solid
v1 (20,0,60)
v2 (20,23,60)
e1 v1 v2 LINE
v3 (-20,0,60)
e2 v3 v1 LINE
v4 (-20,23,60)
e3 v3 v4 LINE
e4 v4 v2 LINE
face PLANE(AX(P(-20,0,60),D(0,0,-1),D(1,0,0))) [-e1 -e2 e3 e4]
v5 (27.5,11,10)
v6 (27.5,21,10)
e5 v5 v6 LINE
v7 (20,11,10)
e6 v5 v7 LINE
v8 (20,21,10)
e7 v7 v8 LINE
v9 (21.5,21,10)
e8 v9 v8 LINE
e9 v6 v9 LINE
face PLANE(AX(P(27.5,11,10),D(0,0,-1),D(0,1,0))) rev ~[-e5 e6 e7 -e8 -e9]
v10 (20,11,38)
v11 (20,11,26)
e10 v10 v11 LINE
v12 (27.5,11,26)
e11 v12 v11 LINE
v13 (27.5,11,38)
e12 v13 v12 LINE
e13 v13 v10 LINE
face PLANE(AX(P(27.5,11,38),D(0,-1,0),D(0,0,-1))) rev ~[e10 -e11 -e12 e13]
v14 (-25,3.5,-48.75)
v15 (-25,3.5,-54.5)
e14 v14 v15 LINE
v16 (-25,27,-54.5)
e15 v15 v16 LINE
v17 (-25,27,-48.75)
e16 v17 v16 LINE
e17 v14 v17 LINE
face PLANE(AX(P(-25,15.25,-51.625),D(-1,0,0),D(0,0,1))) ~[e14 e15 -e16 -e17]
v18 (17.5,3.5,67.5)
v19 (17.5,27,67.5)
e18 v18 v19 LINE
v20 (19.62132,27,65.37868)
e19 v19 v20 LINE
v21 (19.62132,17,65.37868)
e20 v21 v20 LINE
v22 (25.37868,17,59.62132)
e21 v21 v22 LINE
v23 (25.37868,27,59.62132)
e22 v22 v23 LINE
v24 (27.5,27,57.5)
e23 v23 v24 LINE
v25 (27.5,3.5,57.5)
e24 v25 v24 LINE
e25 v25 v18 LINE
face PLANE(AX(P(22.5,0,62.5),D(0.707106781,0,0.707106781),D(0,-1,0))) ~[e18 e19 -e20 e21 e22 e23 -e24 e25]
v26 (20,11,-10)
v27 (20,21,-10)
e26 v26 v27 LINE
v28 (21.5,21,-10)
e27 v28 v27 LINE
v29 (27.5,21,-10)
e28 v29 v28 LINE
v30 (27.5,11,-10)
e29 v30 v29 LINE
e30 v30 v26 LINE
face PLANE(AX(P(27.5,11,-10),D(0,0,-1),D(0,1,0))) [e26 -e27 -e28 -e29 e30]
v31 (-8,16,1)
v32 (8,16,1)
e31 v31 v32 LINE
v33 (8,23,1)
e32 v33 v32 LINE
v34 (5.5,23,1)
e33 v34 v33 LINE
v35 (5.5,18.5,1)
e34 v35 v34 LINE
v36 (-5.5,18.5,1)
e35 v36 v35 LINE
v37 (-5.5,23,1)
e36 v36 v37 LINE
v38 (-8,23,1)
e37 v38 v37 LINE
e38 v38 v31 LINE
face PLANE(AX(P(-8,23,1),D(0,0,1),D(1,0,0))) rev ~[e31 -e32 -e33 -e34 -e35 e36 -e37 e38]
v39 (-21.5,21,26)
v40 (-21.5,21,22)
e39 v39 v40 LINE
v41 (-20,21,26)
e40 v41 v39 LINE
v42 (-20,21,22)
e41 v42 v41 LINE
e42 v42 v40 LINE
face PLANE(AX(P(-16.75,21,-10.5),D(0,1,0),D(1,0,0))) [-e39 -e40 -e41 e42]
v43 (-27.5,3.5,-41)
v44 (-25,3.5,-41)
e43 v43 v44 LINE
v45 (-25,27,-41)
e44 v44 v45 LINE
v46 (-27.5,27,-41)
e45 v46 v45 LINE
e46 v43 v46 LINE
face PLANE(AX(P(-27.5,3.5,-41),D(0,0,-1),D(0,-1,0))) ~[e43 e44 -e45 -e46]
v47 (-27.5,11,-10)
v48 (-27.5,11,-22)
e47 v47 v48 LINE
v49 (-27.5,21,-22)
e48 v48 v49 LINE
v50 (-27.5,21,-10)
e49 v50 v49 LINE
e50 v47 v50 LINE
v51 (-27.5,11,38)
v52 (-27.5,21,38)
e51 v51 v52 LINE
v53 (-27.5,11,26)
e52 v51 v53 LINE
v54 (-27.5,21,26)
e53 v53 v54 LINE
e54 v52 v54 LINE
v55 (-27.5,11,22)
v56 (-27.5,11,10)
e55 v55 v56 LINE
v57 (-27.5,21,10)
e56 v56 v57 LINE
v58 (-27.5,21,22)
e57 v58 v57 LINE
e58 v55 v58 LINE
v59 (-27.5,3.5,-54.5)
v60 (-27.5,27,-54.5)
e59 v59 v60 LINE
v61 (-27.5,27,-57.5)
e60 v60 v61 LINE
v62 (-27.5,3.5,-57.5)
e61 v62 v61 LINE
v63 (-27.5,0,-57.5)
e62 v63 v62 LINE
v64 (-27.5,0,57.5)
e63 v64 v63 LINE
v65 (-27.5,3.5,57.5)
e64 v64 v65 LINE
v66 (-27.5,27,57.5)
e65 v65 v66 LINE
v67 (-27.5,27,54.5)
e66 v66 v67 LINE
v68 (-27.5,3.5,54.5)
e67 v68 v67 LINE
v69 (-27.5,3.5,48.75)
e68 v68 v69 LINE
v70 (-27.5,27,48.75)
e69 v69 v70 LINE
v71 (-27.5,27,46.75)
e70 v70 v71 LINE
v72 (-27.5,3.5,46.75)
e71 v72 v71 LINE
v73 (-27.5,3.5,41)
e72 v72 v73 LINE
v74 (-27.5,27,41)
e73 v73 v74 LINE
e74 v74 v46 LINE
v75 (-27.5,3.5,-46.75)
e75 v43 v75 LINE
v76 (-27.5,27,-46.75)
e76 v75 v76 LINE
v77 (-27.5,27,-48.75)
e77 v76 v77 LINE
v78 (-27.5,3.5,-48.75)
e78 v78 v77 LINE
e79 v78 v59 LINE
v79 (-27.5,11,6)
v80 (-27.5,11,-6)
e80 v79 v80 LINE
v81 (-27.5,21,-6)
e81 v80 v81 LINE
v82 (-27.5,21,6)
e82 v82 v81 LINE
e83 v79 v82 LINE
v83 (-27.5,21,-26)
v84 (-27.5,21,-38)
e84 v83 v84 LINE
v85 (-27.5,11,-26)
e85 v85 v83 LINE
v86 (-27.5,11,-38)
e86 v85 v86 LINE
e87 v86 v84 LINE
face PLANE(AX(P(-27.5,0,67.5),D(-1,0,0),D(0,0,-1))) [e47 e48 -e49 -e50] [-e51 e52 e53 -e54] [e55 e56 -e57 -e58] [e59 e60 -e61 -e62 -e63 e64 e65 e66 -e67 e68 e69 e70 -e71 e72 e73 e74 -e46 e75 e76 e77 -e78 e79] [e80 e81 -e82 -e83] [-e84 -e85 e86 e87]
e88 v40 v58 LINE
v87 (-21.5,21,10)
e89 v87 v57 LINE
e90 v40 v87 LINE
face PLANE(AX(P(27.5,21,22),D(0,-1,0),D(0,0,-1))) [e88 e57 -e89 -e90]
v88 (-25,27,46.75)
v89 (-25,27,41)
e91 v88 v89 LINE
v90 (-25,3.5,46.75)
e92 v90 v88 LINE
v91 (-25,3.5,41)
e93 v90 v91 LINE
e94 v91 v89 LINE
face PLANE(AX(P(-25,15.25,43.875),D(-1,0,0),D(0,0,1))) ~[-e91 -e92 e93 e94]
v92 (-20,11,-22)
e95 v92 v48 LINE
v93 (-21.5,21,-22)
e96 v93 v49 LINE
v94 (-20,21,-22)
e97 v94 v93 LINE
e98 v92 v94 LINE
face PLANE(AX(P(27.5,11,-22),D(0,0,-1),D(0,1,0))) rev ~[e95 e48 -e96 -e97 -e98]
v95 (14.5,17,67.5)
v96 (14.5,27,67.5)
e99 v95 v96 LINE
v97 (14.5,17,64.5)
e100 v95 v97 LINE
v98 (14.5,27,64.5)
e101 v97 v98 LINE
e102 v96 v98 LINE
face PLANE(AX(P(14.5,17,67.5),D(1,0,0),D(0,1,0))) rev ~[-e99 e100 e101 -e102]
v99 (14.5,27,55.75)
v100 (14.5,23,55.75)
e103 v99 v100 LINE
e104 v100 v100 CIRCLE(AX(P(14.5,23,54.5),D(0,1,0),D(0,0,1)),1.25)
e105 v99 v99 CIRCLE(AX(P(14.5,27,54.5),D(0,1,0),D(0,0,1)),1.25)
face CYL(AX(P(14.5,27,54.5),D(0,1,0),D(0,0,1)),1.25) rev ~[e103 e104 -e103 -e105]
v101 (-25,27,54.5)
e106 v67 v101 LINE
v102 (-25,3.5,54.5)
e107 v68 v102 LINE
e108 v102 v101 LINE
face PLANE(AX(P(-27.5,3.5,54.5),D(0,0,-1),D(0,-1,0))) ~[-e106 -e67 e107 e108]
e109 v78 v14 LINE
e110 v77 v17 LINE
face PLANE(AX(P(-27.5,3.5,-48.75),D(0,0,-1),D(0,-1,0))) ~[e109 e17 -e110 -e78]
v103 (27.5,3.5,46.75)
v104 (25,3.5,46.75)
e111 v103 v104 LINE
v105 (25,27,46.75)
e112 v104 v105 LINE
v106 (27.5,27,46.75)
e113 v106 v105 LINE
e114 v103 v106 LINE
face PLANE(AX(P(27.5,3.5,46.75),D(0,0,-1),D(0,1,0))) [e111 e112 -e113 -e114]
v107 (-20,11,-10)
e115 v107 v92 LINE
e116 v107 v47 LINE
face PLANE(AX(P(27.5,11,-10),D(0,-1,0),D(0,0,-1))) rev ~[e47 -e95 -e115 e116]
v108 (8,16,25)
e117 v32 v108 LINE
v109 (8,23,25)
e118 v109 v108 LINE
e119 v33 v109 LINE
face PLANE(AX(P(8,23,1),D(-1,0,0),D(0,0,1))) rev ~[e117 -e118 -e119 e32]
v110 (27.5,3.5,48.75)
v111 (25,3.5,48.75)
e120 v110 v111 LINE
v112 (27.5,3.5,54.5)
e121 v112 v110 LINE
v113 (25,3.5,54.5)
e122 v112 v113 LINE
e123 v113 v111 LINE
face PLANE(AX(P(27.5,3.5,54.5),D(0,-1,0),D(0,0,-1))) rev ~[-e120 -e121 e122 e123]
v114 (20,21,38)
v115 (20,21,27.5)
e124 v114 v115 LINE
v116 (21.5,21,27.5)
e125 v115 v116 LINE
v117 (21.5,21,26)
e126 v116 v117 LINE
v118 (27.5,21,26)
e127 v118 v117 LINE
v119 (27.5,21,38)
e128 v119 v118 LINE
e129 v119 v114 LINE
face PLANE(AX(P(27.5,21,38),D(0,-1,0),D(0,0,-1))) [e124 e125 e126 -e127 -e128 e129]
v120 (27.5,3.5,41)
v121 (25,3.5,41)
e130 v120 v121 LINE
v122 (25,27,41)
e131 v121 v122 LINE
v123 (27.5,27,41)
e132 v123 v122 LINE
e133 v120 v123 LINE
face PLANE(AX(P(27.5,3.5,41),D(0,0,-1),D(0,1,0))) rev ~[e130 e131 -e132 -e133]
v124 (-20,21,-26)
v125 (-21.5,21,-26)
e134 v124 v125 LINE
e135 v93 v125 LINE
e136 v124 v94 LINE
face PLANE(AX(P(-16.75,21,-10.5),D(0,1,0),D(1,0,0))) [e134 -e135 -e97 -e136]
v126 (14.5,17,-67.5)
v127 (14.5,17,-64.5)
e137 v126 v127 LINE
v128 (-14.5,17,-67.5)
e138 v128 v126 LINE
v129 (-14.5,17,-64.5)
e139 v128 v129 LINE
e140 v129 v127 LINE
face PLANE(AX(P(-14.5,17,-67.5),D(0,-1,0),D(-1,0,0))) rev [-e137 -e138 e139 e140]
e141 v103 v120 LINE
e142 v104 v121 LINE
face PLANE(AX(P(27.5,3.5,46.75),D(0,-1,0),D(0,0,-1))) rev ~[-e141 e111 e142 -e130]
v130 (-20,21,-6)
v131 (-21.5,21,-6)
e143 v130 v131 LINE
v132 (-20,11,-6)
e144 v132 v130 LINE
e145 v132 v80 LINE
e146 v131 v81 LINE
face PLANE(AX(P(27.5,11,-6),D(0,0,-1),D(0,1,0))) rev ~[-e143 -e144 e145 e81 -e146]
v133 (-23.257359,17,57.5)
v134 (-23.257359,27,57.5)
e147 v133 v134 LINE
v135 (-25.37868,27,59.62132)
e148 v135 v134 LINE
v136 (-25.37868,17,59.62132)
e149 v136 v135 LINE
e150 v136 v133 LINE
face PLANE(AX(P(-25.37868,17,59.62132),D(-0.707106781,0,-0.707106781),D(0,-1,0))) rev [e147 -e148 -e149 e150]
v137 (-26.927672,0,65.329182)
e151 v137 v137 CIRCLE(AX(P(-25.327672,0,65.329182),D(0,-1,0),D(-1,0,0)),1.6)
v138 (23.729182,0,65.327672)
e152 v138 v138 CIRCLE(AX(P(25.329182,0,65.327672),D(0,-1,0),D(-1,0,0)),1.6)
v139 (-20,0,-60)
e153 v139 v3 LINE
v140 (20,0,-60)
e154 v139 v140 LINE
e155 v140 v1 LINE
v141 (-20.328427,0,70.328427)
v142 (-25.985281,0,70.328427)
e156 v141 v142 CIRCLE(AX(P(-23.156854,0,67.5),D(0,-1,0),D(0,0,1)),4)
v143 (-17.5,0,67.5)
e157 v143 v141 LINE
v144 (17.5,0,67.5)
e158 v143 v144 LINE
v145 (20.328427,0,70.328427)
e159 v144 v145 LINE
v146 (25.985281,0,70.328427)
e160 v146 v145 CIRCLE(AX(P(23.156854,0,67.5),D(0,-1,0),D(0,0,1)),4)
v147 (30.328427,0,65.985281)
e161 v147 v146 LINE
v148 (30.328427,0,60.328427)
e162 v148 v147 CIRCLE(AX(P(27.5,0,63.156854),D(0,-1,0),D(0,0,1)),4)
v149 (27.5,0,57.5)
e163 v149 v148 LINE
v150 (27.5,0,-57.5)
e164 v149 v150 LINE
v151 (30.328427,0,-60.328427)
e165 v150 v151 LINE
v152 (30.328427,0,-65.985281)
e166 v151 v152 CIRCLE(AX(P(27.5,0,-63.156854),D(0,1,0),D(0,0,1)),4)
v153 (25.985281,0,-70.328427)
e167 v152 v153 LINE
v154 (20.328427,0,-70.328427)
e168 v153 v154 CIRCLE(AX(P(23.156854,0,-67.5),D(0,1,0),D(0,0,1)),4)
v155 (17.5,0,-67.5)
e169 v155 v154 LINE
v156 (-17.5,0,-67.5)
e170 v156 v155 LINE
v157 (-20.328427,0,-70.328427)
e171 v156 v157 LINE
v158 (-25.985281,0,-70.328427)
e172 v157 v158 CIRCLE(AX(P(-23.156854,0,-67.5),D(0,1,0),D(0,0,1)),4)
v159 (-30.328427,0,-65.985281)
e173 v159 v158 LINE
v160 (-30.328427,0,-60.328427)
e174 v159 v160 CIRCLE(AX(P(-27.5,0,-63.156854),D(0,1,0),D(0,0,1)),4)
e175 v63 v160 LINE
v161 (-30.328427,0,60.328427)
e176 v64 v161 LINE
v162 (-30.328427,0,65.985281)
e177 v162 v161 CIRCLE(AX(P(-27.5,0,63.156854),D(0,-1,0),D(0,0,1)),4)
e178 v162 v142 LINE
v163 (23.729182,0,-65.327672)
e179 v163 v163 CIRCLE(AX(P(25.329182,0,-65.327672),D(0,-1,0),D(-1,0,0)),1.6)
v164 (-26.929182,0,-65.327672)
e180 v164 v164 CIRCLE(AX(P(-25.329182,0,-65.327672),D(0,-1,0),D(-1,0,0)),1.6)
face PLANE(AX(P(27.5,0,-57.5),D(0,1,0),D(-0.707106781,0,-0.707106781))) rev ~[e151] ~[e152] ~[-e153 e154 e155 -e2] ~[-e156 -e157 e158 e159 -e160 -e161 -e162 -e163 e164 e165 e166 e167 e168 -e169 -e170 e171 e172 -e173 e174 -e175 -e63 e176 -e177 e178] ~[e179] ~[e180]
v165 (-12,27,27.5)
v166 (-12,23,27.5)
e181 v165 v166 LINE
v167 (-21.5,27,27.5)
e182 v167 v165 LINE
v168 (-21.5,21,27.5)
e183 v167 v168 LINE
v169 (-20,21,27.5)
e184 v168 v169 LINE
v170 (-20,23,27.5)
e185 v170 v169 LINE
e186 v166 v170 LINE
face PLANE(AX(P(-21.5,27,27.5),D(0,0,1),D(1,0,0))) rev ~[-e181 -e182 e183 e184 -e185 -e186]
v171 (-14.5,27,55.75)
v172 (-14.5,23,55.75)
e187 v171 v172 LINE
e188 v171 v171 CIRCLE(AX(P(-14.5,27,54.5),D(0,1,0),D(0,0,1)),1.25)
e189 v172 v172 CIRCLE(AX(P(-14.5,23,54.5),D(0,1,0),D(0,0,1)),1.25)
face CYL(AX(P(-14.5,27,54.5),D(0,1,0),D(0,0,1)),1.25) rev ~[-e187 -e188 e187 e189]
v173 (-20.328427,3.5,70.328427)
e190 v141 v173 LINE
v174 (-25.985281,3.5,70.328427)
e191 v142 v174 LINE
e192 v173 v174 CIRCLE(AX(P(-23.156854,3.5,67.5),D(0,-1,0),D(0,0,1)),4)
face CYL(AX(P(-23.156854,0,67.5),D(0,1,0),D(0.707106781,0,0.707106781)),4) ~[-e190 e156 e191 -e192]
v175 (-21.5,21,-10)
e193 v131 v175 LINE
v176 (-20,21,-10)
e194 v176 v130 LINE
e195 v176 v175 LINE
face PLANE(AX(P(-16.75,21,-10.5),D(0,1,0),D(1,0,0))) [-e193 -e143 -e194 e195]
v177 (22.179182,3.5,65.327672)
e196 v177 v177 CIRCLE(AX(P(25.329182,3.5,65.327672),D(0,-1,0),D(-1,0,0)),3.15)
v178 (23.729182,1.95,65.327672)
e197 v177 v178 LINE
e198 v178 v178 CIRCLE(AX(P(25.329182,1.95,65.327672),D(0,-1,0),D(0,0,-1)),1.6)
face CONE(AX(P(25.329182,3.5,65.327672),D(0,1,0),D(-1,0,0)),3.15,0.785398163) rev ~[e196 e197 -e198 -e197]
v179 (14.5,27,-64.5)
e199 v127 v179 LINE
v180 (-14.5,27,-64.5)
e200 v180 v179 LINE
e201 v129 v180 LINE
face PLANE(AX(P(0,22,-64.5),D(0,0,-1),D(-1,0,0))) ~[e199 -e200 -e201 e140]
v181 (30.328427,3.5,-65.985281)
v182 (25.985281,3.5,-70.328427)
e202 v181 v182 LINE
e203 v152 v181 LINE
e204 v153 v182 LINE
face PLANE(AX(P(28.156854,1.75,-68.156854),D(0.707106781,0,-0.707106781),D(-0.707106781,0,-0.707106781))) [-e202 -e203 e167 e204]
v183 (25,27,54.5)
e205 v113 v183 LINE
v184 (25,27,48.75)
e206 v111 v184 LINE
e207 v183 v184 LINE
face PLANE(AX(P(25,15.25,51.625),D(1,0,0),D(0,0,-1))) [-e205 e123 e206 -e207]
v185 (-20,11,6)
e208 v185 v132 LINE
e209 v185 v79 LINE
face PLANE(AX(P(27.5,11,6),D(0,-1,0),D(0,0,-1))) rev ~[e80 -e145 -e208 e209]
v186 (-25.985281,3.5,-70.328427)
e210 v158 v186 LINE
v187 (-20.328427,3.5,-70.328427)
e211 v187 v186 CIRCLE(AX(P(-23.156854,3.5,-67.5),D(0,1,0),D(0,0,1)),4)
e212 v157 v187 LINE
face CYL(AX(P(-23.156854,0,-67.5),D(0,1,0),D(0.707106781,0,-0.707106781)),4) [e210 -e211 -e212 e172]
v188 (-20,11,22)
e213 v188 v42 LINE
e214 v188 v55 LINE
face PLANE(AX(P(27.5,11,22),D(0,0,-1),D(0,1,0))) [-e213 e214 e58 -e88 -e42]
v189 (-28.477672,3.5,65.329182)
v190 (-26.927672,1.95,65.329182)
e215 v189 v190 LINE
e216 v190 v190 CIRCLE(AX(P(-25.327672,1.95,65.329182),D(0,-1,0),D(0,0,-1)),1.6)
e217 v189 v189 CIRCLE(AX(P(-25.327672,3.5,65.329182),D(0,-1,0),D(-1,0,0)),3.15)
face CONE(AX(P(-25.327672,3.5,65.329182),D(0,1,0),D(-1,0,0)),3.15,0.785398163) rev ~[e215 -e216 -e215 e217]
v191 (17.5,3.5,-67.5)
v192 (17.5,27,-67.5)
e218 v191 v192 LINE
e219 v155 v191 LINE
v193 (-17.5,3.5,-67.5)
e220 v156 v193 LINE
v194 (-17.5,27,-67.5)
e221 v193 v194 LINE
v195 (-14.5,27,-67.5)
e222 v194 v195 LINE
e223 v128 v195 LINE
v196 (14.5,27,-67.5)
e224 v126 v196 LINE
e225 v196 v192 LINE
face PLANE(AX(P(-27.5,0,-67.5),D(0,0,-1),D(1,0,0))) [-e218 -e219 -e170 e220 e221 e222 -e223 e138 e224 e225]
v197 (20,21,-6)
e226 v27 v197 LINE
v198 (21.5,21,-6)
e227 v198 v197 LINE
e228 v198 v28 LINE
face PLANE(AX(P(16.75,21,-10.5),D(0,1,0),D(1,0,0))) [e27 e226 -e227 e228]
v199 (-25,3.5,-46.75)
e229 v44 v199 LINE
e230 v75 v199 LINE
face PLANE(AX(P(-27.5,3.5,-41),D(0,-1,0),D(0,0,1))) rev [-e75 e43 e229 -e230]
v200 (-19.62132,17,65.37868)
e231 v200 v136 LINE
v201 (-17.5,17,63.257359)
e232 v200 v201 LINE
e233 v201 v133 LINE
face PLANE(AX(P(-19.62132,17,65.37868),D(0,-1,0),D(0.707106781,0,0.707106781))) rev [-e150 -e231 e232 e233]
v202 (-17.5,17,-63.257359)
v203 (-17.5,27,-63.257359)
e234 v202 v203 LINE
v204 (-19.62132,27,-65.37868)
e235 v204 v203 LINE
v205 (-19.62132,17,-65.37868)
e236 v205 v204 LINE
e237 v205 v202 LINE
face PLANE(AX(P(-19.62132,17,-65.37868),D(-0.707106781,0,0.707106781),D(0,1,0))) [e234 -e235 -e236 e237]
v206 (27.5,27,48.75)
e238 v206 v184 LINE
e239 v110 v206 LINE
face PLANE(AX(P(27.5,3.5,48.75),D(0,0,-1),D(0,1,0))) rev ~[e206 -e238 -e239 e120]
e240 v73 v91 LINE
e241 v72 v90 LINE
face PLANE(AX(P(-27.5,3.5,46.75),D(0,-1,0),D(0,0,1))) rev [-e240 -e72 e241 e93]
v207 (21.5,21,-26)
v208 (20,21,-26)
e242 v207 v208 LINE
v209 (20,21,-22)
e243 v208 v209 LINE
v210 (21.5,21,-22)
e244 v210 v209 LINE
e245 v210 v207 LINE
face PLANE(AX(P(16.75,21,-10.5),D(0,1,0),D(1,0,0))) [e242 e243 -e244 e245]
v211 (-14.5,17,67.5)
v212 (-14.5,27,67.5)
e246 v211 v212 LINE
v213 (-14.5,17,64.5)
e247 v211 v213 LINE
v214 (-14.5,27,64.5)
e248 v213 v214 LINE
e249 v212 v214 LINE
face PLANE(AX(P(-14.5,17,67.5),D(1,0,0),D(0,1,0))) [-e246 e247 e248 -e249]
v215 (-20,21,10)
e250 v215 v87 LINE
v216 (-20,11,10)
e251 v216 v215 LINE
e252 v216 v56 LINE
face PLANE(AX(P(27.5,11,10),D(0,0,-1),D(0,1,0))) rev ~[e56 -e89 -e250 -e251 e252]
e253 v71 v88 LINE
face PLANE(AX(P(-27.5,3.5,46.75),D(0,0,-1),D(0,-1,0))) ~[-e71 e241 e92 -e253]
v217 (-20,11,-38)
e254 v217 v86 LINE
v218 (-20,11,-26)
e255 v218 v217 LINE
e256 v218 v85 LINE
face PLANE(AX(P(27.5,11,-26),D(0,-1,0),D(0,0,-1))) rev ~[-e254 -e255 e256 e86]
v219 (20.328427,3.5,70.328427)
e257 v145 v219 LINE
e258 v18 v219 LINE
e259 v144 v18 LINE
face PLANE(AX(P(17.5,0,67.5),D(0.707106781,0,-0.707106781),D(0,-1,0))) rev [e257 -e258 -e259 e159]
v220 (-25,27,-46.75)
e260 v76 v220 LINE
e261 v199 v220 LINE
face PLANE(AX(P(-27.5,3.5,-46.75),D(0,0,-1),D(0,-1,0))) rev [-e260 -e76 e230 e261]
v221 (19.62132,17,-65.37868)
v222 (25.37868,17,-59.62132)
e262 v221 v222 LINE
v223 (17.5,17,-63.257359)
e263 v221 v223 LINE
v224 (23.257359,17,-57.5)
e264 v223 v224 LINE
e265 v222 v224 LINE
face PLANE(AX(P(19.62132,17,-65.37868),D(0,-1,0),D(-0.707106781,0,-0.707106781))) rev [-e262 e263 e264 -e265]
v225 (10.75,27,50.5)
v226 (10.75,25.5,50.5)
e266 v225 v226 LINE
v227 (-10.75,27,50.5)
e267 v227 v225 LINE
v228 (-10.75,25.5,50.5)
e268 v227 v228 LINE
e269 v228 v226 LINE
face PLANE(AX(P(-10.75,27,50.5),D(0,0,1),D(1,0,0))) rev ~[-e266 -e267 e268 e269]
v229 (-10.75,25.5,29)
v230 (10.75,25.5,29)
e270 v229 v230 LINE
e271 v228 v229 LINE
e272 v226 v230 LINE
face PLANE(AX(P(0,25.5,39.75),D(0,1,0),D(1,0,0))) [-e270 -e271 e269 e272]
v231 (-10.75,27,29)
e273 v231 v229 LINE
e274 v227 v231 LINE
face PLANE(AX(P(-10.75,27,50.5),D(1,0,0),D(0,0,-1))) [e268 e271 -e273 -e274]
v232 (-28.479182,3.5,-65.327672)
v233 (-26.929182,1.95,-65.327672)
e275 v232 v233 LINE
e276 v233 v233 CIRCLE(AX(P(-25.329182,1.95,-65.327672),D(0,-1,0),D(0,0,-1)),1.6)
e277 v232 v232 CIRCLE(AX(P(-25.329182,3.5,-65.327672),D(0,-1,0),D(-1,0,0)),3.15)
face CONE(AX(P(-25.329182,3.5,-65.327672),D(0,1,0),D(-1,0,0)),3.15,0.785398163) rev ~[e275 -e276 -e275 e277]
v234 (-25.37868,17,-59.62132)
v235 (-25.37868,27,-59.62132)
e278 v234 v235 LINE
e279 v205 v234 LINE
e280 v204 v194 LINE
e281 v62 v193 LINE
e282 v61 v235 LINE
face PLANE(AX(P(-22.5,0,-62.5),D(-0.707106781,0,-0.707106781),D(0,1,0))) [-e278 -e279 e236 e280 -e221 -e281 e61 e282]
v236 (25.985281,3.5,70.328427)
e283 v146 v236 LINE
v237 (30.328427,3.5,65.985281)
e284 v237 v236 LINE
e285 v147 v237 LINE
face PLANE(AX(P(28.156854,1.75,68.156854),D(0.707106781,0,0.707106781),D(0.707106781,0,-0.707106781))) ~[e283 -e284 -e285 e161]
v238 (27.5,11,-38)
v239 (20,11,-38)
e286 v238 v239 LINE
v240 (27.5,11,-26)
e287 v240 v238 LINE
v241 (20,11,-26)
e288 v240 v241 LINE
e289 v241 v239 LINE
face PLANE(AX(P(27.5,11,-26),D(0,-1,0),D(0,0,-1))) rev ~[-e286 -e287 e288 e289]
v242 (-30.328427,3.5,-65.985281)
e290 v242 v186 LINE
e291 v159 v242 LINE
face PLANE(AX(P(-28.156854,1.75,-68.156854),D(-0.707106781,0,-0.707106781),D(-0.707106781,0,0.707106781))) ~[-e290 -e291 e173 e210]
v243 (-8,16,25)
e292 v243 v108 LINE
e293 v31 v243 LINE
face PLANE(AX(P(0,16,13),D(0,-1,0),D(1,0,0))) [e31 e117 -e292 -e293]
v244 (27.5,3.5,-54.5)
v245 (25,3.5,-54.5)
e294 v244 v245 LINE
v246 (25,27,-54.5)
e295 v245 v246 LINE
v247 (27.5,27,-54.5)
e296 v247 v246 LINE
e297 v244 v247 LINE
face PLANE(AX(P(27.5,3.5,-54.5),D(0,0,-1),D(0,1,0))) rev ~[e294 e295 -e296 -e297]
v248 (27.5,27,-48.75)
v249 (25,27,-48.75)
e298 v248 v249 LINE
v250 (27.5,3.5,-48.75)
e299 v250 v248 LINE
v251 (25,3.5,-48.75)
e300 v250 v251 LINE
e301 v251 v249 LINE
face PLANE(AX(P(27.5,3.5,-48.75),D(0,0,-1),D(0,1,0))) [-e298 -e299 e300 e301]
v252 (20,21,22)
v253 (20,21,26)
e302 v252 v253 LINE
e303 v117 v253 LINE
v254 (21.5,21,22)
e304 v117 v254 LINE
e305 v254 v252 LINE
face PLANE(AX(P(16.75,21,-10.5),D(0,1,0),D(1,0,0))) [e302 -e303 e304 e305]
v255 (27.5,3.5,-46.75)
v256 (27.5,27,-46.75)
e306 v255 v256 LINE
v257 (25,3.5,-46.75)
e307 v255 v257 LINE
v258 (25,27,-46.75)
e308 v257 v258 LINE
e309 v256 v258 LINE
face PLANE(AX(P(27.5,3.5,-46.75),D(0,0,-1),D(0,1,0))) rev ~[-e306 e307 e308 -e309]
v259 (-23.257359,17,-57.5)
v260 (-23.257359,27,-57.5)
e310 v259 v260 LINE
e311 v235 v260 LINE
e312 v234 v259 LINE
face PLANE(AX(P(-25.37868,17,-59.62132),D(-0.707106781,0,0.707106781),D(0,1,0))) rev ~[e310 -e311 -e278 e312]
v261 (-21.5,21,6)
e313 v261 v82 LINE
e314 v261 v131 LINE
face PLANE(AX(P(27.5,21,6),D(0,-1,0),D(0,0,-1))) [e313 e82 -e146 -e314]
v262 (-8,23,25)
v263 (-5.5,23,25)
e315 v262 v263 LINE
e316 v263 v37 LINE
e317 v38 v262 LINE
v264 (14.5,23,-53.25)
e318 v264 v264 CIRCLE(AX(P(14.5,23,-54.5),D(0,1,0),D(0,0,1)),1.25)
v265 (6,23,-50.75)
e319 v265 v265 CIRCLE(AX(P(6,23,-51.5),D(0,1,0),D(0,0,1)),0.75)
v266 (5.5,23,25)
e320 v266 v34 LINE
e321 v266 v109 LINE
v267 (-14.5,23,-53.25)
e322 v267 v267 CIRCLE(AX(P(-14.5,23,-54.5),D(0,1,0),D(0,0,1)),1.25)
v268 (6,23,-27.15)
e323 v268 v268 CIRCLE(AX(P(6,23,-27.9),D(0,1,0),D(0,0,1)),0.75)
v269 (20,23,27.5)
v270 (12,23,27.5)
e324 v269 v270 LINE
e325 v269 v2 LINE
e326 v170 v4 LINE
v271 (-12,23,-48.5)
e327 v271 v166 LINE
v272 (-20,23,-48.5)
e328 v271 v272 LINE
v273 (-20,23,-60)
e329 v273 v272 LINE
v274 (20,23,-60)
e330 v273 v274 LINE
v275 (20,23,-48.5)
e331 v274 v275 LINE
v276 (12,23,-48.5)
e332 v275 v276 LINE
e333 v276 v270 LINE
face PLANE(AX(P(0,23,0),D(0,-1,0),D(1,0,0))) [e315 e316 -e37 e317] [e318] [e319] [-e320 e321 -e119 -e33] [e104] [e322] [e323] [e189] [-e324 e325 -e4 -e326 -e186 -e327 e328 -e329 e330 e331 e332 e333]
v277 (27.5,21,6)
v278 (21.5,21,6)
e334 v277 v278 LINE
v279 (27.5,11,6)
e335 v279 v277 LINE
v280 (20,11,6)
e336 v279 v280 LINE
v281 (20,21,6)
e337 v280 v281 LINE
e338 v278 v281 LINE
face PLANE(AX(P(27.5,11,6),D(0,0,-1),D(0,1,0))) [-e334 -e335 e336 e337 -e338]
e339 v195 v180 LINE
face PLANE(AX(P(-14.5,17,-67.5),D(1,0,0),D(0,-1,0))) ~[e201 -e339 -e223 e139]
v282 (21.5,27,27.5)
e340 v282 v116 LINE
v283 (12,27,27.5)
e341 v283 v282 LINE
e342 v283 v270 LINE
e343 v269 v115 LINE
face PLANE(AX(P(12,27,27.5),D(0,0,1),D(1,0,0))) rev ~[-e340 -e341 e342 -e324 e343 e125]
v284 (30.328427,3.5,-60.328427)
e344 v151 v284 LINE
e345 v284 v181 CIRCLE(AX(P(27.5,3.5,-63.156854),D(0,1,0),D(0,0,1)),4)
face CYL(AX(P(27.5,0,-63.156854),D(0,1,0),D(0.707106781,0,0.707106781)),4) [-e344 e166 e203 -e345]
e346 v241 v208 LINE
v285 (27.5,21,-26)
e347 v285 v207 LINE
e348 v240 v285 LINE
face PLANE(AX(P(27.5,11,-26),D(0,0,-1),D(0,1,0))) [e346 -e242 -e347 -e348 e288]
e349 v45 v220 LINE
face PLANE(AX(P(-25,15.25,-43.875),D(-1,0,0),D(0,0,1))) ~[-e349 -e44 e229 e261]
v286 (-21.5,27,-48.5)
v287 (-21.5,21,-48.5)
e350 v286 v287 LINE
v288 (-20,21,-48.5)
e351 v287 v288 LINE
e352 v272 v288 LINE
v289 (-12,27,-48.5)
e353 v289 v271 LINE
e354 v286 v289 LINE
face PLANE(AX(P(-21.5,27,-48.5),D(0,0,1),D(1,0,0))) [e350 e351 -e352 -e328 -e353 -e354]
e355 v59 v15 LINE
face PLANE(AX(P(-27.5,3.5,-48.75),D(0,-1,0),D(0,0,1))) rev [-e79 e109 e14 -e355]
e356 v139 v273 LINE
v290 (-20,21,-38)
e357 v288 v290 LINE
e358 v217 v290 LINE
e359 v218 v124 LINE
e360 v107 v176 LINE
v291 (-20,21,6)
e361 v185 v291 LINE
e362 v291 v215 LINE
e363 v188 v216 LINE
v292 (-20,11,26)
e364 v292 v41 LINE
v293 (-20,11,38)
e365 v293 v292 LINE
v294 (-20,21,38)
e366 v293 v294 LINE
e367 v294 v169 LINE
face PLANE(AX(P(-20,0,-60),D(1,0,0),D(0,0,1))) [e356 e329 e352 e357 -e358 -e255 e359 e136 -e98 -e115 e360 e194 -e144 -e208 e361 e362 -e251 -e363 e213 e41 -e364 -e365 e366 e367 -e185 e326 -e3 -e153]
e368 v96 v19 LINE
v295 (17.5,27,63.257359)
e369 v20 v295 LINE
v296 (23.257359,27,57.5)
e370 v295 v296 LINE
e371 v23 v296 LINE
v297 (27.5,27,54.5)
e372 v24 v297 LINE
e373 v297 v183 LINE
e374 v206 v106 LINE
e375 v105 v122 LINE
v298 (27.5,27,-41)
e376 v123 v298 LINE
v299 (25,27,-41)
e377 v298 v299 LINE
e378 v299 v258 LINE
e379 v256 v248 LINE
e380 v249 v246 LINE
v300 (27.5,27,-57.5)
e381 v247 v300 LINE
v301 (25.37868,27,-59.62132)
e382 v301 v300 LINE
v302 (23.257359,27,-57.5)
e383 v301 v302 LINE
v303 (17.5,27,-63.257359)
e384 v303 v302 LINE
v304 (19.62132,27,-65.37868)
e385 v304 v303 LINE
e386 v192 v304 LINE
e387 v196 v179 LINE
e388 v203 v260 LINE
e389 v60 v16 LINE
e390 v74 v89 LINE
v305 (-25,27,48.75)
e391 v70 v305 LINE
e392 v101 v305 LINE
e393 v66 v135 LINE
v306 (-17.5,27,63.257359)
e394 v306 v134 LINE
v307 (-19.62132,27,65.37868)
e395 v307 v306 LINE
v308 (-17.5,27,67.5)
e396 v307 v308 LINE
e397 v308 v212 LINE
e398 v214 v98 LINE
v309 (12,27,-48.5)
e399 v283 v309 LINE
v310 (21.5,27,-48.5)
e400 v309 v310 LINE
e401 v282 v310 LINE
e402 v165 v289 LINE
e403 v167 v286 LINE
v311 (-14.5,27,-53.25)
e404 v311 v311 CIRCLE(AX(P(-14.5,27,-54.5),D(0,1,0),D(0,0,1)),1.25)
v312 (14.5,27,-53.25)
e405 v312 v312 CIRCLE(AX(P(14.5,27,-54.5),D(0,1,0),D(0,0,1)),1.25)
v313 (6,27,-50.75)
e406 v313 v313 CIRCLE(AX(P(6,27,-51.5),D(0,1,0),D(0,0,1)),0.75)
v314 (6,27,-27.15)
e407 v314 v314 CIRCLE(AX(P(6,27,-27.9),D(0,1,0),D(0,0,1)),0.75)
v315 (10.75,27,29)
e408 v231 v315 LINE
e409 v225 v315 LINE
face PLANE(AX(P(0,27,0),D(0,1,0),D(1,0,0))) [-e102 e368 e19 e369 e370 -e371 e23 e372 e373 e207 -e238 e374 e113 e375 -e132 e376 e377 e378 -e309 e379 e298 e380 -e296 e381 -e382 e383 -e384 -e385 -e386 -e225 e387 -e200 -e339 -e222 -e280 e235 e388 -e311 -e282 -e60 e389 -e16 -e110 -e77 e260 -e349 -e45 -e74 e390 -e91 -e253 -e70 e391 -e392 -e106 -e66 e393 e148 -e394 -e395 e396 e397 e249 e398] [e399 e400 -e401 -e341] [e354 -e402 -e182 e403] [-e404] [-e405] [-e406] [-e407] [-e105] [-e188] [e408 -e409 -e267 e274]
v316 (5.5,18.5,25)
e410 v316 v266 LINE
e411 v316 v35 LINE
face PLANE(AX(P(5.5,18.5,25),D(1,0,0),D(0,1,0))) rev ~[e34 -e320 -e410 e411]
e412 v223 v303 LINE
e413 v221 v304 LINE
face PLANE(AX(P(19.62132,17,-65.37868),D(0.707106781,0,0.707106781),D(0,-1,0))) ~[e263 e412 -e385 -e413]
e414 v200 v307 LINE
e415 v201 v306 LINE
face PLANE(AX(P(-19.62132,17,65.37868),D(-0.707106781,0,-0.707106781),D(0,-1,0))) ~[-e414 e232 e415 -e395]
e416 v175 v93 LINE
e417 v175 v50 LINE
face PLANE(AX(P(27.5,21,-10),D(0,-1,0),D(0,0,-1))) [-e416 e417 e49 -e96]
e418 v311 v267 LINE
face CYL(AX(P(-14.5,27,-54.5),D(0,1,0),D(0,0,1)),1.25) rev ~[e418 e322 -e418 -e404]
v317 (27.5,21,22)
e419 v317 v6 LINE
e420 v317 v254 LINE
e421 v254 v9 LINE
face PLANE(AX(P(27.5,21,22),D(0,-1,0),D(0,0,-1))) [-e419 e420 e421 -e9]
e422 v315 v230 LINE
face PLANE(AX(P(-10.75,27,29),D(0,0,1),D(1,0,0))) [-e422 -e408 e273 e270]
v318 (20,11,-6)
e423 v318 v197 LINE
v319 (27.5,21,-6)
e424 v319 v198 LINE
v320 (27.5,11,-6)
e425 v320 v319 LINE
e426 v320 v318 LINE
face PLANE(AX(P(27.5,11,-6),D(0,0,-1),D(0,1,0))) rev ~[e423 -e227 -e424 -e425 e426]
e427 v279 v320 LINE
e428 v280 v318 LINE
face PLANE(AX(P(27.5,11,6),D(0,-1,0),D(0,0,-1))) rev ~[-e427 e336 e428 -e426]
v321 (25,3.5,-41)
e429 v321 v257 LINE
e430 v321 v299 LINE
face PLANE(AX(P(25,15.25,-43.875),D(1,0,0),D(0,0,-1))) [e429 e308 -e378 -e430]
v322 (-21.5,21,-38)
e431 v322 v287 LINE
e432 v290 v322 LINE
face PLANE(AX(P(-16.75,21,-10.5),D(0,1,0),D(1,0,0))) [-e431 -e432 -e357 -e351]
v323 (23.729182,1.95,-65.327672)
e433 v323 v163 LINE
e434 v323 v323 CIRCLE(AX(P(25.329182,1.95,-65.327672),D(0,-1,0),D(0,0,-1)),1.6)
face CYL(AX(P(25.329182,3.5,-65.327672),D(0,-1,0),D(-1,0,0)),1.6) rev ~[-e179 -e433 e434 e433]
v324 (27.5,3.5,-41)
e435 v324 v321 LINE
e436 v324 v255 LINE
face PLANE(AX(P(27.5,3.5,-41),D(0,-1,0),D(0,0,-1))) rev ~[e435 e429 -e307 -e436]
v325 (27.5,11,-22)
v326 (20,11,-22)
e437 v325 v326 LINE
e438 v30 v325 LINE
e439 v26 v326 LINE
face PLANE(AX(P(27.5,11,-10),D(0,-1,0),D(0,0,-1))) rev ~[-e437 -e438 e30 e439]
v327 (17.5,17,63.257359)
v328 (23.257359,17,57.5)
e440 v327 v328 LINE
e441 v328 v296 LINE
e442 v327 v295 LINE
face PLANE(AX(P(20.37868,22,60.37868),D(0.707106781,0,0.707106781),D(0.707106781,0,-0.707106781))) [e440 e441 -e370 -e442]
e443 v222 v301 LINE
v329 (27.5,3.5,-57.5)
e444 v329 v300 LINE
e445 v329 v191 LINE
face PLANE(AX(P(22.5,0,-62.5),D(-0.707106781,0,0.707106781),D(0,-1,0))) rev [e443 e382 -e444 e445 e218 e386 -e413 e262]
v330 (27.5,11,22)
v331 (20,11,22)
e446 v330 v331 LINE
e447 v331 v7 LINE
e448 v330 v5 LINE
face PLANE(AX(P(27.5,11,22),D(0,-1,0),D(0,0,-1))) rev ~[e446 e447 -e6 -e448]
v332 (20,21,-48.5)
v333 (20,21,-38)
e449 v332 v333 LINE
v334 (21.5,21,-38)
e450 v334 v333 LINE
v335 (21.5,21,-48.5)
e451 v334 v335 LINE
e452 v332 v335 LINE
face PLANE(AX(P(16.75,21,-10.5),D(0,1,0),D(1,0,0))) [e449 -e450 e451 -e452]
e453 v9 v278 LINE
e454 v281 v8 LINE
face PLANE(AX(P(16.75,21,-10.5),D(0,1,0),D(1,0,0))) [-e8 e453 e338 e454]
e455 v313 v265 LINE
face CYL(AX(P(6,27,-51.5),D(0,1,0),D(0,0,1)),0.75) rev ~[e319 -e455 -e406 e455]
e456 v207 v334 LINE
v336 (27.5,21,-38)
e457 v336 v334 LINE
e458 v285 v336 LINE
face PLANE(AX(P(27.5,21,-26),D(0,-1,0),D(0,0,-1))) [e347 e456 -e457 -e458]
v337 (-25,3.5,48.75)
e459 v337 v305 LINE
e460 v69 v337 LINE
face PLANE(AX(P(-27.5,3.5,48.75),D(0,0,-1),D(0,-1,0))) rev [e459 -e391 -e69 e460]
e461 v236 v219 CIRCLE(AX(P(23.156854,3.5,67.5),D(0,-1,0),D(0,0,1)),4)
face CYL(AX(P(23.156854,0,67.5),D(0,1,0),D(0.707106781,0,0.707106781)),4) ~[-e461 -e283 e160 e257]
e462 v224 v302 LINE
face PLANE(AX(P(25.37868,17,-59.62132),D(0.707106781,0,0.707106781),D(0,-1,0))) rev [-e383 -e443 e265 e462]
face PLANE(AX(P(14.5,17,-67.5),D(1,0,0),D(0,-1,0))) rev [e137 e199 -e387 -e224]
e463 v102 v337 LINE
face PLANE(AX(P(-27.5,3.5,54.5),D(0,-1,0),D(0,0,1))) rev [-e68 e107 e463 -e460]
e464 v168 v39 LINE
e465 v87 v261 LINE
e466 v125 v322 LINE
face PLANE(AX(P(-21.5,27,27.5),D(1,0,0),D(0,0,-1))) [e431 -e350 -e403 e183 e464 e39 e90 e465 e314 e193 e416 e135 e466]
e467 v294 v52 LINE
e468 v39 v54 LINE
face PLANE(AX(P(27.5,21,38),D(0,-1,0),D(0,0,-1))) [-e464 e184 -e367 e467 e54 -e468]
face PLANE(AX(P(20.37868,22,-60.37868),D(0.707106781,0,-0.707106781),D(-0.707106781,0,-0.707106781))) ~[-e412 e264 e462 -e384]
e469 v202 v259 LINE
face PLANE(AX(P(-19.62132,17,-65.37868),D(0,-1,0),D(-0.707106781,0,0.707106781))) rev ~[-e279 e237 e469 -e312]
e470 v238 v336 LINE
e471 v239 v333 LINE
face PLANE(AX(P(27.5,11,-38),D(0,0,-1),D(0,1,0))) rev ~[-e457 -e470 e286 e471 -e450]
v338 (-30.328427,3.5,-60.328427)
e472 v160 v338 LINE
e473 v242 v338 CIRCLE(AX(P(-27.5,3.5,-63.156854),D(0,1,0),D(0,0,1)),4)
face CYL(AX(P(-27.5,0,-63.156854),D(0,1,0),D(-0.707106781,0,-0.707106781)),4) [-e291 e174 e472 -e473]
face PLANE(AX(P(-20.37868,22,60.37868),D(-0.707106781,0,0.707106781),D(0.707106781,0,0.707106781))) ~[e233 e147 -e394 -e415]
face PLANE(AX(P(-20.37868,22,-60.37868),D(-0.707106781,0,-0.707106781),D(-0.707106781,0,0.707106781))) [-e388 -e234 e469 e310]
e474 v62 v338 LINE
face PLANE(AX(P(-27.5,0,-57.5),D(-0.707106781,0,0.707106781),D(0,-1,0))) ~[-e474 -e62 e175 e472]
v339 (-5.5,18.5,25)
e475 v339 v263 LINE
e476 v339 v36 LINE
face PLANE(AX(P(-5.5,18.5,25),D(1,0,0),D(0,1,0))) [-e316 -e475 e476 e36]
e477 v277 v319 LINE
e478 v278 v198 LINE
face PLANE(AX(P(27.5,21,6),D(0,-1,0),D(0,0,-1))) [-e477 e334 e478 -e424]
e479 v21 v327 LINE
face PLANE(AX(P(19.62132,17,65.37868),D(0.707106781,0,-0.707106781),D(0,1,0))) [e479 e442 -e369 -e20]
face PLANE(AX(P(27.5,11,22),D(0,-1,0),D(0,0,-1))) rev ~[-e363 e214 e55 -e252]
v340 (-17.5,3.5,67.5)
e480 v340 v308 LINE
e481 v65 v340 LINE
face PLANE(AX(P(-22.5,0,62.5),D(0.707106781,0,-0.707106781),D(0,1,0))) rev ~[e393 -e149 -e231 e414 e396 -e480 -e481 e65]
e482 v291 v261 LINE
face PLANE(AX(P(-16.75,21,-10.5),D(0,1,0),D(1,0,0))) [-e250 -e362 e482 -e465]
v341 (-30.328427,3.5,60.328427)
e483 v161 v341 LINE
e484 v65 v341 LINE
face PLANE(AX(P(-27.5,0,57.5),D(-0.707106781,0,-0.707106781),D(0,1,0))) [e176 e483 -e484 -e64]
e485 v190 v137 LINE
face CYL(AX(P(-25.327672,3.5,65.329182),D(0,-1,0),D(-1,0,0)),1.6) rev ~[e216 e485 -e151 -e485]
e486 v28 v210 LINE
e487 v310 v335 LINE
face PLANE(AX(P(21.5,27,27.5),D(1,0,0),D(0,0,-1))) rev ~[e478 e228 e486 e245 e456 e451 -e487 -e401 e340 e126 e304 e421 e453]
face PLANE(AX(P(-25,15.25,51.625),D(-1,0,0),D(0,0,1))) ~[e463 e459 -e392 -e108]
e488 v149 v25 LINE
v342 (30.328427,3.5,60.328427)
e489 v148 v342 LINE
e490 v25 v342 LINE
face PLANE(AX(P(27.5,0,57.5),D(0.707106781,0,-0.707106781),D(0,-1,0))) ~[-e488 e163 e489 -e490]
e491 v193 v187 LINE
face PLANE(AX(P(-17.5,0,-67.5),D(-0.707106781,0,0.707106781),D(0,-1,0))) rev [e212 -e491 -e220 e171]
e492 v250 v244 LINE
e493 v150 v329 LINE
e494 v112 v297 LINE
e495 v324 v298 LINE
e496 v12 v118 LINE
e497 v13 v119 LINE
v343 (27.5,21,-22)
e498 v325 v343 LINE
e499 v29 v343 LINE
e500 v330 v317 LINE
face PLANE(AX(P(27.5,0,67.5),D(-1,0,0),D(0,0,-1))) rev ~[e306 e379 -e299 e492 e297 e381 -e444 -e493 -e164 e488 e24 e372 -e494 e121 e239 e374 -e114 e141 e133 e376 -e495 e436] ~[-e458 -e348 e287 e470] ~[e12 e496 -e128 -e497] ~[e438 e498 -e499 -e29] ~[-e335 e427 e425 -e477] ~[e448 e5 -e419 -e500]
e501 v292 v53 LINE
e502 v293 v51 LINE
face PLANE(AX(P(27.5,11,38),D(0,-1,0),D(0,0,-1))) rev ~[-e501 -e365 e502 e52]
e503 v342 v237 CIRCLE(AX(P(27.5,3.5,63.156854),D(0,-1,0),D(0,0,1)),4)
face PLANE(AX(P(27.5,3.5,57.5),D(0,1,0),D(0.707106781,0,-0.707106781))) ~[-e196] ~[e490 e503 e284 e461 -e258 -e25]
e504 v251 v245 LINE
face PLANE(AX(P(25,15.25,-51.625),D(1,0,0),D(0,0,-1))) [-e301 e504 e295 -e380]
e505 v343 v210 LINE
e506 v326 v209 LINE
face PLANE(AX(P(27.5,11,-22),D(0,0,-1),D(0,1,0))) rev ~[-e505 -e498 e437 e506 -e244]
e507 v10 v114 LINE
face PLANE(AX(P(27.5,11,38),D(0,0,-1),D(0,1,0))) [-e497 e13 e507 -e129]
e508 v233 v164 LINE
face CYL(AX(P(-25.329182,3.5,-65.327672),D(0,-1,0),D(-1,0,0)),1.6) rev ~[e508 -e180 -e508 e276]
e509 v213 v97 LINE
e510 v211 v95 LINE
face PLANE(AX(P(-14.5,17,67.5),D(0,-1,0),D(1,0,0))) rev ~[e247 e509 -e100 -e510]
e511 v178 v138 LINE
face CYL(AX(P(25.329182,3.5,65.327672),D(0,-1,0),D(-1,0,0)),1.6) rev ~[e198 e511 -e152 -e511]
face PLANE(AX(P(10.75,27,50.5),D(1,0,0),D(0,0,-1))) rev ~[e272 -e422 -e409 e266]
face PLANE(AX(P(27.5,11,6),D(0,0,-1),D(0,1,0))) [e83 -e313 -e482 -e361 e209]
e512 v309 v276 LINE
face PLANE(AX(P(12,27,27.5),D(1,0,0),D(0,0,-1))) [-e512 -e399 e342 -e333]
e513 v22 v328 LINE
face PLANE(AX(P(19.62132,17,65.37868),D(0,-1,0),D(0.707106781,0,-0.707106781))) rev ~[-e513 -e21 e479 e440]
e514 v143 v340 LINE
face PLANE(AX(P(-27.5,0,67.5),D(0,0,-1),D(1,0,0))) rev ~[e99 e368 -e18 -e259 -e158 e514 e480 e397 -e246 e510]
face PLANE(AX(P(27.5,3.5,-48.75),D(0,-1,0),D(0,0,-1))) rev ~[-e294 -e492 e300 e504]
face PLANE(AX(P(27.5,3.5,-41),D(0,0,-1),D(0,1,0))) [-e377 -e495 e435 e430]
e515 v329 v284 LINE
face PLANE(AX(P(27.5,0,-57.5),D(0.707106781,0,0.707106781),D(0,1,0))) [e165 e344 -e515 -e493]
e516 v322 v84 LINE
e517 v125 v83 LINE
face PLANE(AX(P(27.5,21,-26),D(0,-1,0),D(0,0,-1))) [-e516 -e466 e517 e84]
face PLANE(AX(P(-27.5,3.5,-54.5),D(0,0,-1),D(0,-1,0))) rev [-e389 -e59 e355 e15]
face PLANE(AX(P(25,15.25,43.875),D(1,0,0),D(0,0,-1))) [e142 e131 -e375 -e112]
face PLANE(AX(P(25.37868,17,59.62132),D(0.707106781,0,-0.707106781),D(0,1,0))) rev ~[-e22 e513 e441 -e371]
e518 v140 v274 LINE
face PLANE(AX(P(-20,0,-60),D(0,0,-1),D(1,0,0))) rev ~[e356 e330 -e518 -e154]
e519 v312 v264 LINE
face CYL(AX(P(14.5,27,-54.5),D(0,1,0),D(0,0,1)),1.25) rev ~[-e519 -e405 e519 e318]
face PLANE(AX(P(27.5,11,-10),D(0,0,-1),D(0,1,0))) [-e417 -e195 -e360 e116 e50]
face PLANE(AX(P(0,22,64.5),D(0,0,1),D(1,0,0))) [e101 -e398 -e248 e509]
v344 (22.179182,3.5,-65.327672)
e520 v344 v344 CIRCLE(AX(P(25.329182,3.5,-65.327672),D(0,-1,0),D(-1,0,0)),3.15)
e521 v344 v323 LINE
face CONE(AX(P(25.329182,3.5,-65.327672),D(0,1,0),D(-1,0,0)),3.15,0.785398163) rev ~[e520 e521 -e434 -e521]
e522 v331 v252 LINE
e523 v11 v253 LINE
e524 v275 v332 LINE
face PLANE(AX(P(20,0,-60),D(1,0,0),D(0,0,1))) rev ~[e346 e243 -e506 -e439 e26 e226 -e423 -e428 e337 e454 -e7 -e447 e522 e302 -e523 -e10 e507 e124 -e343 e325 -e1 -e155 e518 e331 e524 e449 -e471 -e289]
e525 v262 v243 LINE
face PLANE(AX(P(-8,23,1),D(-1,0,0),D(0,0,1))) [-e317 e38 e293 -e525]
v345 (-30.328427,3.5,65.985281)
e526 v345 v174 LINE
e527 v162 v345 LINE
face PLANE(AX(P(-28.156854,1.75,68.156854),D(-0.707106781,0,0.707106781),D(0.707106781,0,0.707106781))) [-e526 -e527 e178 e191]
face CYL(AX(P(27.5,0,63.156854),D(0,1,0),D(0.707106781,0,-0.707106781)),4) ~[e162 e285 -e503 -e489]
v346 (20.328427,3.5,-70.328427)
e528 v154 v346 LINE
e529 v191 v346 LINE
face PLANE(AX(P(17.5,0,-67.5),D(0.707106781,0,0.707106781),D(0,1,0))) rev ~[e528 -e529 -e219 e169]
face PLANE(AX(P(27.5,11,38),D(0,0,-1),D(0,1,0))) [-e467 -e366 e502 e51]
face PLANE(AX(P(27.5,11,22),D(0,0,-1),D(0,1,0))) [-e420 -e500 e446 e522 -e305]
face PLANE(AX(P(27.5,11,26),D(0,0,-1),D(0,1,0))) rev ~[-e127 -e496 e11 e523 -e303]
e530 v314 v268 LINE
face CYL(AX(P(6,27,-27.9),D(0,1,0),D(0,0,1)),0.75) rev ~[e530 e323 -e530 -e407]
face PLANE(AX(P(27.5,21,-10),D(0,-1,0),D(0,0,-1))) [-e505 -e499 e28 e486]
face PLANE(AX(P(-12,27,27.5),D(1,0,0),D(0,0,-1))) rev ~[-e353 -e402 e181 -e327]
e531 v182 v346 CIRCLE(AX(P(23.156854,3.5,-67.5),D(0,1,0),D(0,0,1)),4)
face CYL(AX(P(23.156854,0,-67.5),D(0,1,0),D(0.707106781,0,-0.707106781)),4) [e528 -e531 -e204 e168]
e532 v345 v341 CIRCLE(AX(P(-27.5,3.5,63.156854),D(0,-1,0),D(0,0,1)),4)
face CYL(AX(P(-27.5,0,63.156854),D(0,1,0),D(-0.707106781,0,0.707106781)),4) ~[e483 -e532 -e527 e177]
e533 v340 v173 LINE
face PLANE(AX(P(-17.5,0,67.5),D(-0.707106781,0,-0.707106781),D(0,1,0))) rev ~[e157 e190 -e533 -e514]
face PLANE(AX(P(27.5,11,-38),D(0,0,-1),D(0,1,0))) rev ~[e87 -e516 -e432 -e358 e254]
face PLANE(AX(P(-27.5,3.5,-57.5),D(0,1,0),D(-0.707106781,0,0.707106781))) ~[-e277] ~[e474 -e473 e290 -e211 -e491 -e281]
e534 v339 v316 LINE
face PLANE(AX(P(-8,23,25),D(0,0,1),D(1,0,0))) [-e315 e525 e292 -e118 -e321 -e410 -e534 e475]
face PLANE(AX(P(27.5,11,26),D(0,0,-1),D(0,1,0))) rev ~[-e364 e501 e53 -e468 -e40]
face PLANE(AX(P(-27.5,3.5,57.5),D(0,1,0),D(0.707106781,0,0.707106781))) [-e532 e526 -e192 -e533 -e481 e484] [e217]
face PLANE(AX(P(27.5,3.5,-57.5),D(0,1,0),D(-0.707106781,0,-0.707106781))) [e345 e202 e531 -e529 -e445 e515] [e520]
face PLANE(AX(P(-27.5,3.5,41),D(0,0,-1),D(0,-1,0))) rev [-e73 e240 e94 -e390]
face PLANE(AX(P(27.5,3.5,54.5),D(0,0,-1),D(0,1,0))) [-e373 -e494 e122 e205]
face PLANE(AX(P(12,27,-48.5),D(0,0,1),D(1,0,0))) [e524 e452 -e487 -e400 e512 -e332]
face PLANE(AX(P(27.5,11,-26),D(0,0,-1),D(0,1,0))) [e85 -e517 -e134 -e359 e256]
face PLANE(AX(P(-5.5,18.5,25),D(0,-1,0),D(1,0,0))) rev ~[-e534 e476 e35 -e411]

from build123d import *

# Parameters (mm, degrees)
SKETCH2_W                                       = 55
SKETCH2_H                                       = 135
BOSS_EXTRUDE1_DEPTH                             = 27
SKETCH3_W                                       = 40
SKETCH3_H                                       = 120
CUT_EXTRUDE1_DEPTH                              = 23
SKETCH19_W                                      = 12
SKETCH19_H                                      = 10
CUT_EXTRUDE7_DEPTH                              = 55
SKETCH20_R                                      = 1.25
SKETCH20_W                                      = 9.5
SKETCH20_H                                      = 76
CUT_EXTRUDE8_DEPTH                              = 6
CHAMFER1_SIZE                                   = 10
SKETCH22_R                                      = 0.75
CUT_EXTRUDE10_DEPTH                             = 10
SKETCH23_W                                      = 21.5
SKETCH23_H                                      = 21.5
CUT_EXTRUDE11_DEPTH                             = 1.5
SKETCH24_W                                      = 16
SKETCH24_H                                      = 24
BOSS_EXTRUDE2_DEPTH                             = 7
SKETCH26_W                                      = 11
SKETCH26_H                                      = 4.5
CUT_EXTRUDE13_DEPTH                             = 24
SKETCH27_W                                      = 14.142135623
SKETCH27_H                                      = 3.5
BOSS_EXTRUDE3_DEPTH                             = 8
SKETCH31_W                                      = 29
SKETCH31_H                                      = 10
CUT_EXTRUDE17_DEPTH                             = 3
SKETCH32_W                                      = 8.142135623
SKETCH32_H                                      = 10
CUT_EXTRUDE18_DEPTH                             = 3
MIRROR8_COPY_1_SKETCH_W                         = 8.142135623
MIRROR8_COPY_1_SKETCH_H                         = 10
MIRROR8_COPY_1_DEPTH                            = 3
CSK_FOR_M3_FLAT_HEAD_MACHINE_SCREW2_D           = 3.2
CSK_FOR_M3_FLAT_HEAD_MACHINE_SCREW2_CSINK_D     = 6.3
CSK_FOR_M3_FLAT_HEAD_MACHINE_SCREW2_CSINK_ANGLE = 90
FILLET3_R                                       = 4
MIRROR14_COPY_1_SKETCH_W                        = 14.142135623
MIRROR14_COPY_1_SKETCH_H                        = 3.5
MIRROR14_COPY_1_DEPTH                           = 8
FILLET3_OF_MIRROR14_R                           = 4
FILLET4_R                                       = 4
CSK_FOR_M3_FLAT_HEAD_MACHINE_SCREW3_D           = 3.2
CSK_FOR_M3_FLAT_HEAD_MACHINE_SCREW3_CSINK_D     = 6.3
CSK_FOR_M3_FLAT_HEAD_MACHINE_SCREW3_CSINK_ANGLE = 90
SKETCH46_W                                      = 5.75
SKETCH46_H                                      = 23.5
CUT_EXTRUDE20_DEPTH                             = 2.5


with BuildPart() as part:
    # Sketch2 → Boss-Extrude1 (new body)
    with BuildSketch(Plane(origin=(0, 0, 0), x_dir=(1, 0, 0), z_dir=(0, 1, 0))):
        Rectangle(SKETCH2_W, SKETCH2_H)
    extrude(amount=BOSS_EXTRUDE1_DEPTH)

    # Sketch3 → Cut-Extrude1 (cut)
    with BuildSketch(Plane.XZ):
        Rectangle(SKETCH3_W, SKETCH3_H)
    extrude(amount=-CUT_EXTRUDE1_DEPTH, mode=Mode.SUBTRACT)

    # Sketch19 → Cut-Extrude7 (cut)
    with BuildSketch(Plane(origin=(27.5, 0, 0), x_dir=(0, 0, -1), z_dir=(1, 0, 0))):
        with Locations((-32, 16)):
            Rectangle(SKETCH19_W, SKETCH19_H)
        with Locations((-16, 16)):
            Rectangle(SKETCH19_W, SKETCH19_H)
        with Locations((0, 16)):
            Rectangle(SKETCH19_W, SKETCH19_H)
        with Locations((16, 16)):
            Rectangle(SKETCH19_W, SKETCH19_H)
        with Locations((32, 16)):
            Rectangle(SKETCH19_W, SKETCH19_H)
    extrude(amount=-CUT_EXTRUDE7_DEPTH, mode=Mode.SUBTRACT)

    # Sketch20 → Cut-Extrude8 (cut)
    with BuildSketch(Plane(origin=(0, 27, 0), x_dir=(1, 0, 0), z_dir=(0, 1, 0))):
        with Locations(Location((-14.5, 54.5, 0), (0, 0, 270))):
            Circle(SKETCH20_R)
        with Locations(Location((14.5, 54.5, 0), (0, 0, 270))):
            Circle(SKETCH20_R)
        with Locations(Location((14.5, -54.5, 0), (0, 0, 270))):
            Circle(SKETCH20_R)
        with Locations(Location((-14.5, -54.5, 0), (0, 0, 270))):
            Circle(SKETCH20_R)
        with Locations((-16.75, 10.5)):
            Rectangle(SKETCH20_W, SKETCH20_H)
        with Locations((16.75, 10.5)):
            Rectangle(SKETCH20_W, SKETCH20_H)
    extrude(amount=-CUT_EXTRUDE8_DEPTH, mode=Mode.SUBTRACT)

    # Chamfer1
    chamfer1_edges = [part.edges().sort_by_distance(p)[0] for p in [
        (-27.5, 13.5, -67.5),
        (27.5, 13.5, -67.5),
        (27.5, 13.5, 67.5),
        (-27.5, 13.5, 67.5),
    ]]
    chamfer(chamfer1_edges, length=CHAMFER1_SIZE)

    # Sketch22 → Cut-Extrude10 (cut)
    with BuildSketch(Plane(origin=(0, 27, 0), x_dir=(1, 0, 0), z_dir=(0, 1, 0))):
        with Locations(Location((6, 51.5, 0), (0, 0, 270))):
            Circle(SKETCH22_R)
        with Locations(Location((6, 27.9, 0), (0, 0, 270))):
            Circle(SKETCH22_R)
    extrude(amount=-CUT_EXTRUDE10_DEPTH, mode=Mode.SUBTRACT)

    # Sketch23 → Cut-Extrude11 (cut)
    with BuildSketch(Plane(origin=(0, 27, 0), x_dir=(1, 0, 0), z_dir=(0, 1, 0))):
        with Locations((0, -39.75)):
            Rectangle(SKETCH23_W, SKETCH23_H)
    extrude(amount=-CUT_EXTRUDE11_DEPTH, mode=Mode.SUBTRACT)

    # Sketch24 → Boss-Extrude2 (add)
    with BuildSketch(Plane.XZ.offset(-23)):
        with Locations((0, 13)):
            Rectangle(SKETCH24_W, SKETCH24_H)
    extrude(amount=BOSS_EXTRUDE2_DEPTH)

    # Sketch26 → Cut-Extrude13 (cut)
    with BuildSketch(Plane.XY.offset(25)):
        with Locations((0, 20.75)):
            Rectangle(SKETCH26_W, SKETCH26_H)
    extrude(amount=-CUT_EXTRUDE13_DEPTH, mode=Mode.SUBTRACT)

    # Sketch27 → Boss-Extrude3 (add)
    with BuildSketch(Plane(origin=(-42.5, 0, 42.5), x_dir=(0.7071067811865465, 0, 0.7071067811865487), z_dir=(-0.7071067811865487, 0, 0.7071067811865465))):
        with Locations((28.284271248, 1.75)):
            Rectangle(SKETCH27_W, SKETCH27_H)
    boss_extrude3 = extrude(amount=BOSS_EXTRUDE3_DEPTH)

    # Mirror1: Boss-Extrude3 across plane
    add(boss_extrude3.mirror(Plane(origin=(0, 0, 0), x_dir=(0, 0, 1), z_dir=(1, 0, 0))))

    # Sketch31 → Cut-Extrude17 (cut)
    with BuildSketch(Plane.XY.offset(67.5)):
        with Locations((0, 22)):
            Rectangle(SKETCH31_W, SKETCH31_H)
    cut_extrude17 = extrude(amount=-CUT_EXTRUDE17_DEPTH, mode=Mode.SUBTRACT)

    # Sketch32 → Cut-Extrude18 (cut)
    with BuildSketch(Plane(origin=(42.5, 0, 42.5), x_dir=(0.7071067811865495, 0, -0.7071067811865456), z_dir=(0.7071067811865456, 0, 0.7071067811865495))):
        with Locations((-28.284271248, 22)):
            Rectangle(SKETCH32_W, SKETCH32_H)
    cut_extrude18 = extrude(amount=-CUT_EXTRUDE18_DEPTH, mode=Mode.SUBTRACT)

    # Mirror7: Cut-Extrude18 across plane
    add(cut_extrude18.mirror(Plane(origin=(0, 0, 0), x_dir=(0, 0, 1), z_dir=(1, 0, 0))), mode=Mode.SUBTRACT)

    # Mirror8: Cut-Extrude18 across plane
    add(cut_extrude18.mirror(Plane.XY), mode=Mode.SUBTRACT)

    # Mirror8 copy 1 sketch → Mirror8 copy 1 (cut)
    with BuildSketch(Plane(origin=(-42.5, 0, -42.5), x_dir=(-0.7071067811865495, 0, 0.7071067811865456), z_dir=(-0.7071067811865456, 0, -0.7071067811865495))):
        with Locations((-28.284271248, 22)):
            Rectangle(MIRROR8_COPY_1_SKETCH_W, MIRROR8_COPY_1_SKETCH_H)
    extrude(amount=-MIRROR8_COPY_1_DEPTH, mode=Mode.SUBTRACT)

    # Mirror9: Cut-Extrude17 across plane
    add(cut_extrude17.mirror(Plane.XY), mode=Mode.SUBTRACT)

    # CSK for M3 Flat Head Machine Screw2 (through all)
    with Locations(Plane(origin=(25.329182182, 3.5, 65.327672068), x_dir=(1, 0, 0), z_dir=(0, 1, 0))):
        with Locations((0, 0)):
            CounterSinkHole(CSK_FOR_M3_FLAT_HEAD_MACHINE_SCREW2_D / 2, CSK_FOR_M3_FLAT_HEAD_MACHINE_SCREW2_CSINK_D / 2, counter_sink_angle=CSK_FOR_M3_FLAT_HEAD_MACHINE_SCREW2_CSINK_ANGLE)

    # Fillet3
    fillet3_edges = [part.edges().sort_by_distance(p)[0] for p in [
        (33.156854249, 1.75, 63.156854249),
        (23.156854249, 1.75, 73.156854249),
    ]]
    fillet(fillet3_edges, radius=FILLET3_R)

    # Mirror14: Boss-Extrude3 across plane
    add(boss_extrude3.mirror(Plane.XY))

    # Mirror14 copy 1 sketch → Mirror14 copy 1 (add)
    with BuildSketch(Plane(origin=(42.5, 0, -42.5), x_dir=(-0.7071067811865465, 0, -0.7071067811865487), z_dir=(0.7071067811865487, 0, -0.7071067811865465))):
        with Locations((28.284271248, 1.75)):
            Rectangle(MIRROR14_COPY_1_SKETCH_W, MIRROR14_COPY_1_SKETCH_H)
    extrude(amount=MIRROR14_COPY_1_DEPTH)

    # Fillet3 of Mirror14
    fillet3_of_mirror14_edges = [part.edges().sort_by_distance(p)[0] for p in [
        (33.156854249, 1.75, -63.156854249),
        (23.156854249, 1.75, -73.156854249),
    ]]
    fillet(fillet3_of_mirror14_edges, radius=FILLET3_OF_MIRROR14_R)

    # Fillet4
    fillet4_edges = [part.edges().sort_by_distance(p)[0] for p in [
        (-33.156854249, 1.75, 63.156854249),
        (-23.156854249, 1.75, 73.156854249),
        (-33.156854249, 1.75, -63.156854249),
        (-23.156854249, 1.75, -73.156854249),
    ]]
    fillet(fillet4_edges, radius=FILLET4_R)

    # CSK for M3 Flat Head Machine Screw3 (through all)
    with Locations(Plane(origin=(-25.327672068, 3.5, 65.329182182), x_dir=(1, 0, 0), z_dir=(0, 1, 0))):
        with Locations((0, 0), (-0.001510114, 130.65685425), (50.65685425, 130.65685425)):
            CounterSinkHole(CSK_FOR_M3_FLAT_HEAD_MACHINE_SCREW3_D / 2, CSK_FOR_M3_FLAT_HEAD_MACHINE_SCREW3_CSINK_D / 2, counter_sink_angle=CSK_FOR_M3_FLAT_HEAD_MACHINE_SCREW3_CSINK_ANGLE)

    # Sketch46 → Cut-Extrude20 (cut)
    with BuildSketch(Plane(origin=(27.5, 0, 0), x_dir=(0, 0, -1), z_dir=(1, 0, 0))):
        with Locations((-51.625, 15.25)):
            Rectangle(SKETCH46_W, SKETCH46_H)
        with Locations((-43.875, 15.25)):
            Rectangle(SKETCH46_W, SKETCH46_H)
        with Locations((43.875, 15.25)):
            Rectangle(SKETCH46_W, SKETCH46_H)
        with Locations((51.625, 15.25)):
            Rectangle(SKETCH46_W, SKETCH46_H)
    cut_extrude20 = extrude(amount=-CUT_EXTRUDE20_DEPTH, mode=Mode.SUBTRACT)

    # Mirror15: Cut-Extrude20 across plane
    add(cut_extrude20.mirror(Plane(origin=(0, 0, 0), x_dir=(0, 0, 1), z_dir=(1, 0, 0))), mode=Mode.SUBTRACT)


solid = part.part
